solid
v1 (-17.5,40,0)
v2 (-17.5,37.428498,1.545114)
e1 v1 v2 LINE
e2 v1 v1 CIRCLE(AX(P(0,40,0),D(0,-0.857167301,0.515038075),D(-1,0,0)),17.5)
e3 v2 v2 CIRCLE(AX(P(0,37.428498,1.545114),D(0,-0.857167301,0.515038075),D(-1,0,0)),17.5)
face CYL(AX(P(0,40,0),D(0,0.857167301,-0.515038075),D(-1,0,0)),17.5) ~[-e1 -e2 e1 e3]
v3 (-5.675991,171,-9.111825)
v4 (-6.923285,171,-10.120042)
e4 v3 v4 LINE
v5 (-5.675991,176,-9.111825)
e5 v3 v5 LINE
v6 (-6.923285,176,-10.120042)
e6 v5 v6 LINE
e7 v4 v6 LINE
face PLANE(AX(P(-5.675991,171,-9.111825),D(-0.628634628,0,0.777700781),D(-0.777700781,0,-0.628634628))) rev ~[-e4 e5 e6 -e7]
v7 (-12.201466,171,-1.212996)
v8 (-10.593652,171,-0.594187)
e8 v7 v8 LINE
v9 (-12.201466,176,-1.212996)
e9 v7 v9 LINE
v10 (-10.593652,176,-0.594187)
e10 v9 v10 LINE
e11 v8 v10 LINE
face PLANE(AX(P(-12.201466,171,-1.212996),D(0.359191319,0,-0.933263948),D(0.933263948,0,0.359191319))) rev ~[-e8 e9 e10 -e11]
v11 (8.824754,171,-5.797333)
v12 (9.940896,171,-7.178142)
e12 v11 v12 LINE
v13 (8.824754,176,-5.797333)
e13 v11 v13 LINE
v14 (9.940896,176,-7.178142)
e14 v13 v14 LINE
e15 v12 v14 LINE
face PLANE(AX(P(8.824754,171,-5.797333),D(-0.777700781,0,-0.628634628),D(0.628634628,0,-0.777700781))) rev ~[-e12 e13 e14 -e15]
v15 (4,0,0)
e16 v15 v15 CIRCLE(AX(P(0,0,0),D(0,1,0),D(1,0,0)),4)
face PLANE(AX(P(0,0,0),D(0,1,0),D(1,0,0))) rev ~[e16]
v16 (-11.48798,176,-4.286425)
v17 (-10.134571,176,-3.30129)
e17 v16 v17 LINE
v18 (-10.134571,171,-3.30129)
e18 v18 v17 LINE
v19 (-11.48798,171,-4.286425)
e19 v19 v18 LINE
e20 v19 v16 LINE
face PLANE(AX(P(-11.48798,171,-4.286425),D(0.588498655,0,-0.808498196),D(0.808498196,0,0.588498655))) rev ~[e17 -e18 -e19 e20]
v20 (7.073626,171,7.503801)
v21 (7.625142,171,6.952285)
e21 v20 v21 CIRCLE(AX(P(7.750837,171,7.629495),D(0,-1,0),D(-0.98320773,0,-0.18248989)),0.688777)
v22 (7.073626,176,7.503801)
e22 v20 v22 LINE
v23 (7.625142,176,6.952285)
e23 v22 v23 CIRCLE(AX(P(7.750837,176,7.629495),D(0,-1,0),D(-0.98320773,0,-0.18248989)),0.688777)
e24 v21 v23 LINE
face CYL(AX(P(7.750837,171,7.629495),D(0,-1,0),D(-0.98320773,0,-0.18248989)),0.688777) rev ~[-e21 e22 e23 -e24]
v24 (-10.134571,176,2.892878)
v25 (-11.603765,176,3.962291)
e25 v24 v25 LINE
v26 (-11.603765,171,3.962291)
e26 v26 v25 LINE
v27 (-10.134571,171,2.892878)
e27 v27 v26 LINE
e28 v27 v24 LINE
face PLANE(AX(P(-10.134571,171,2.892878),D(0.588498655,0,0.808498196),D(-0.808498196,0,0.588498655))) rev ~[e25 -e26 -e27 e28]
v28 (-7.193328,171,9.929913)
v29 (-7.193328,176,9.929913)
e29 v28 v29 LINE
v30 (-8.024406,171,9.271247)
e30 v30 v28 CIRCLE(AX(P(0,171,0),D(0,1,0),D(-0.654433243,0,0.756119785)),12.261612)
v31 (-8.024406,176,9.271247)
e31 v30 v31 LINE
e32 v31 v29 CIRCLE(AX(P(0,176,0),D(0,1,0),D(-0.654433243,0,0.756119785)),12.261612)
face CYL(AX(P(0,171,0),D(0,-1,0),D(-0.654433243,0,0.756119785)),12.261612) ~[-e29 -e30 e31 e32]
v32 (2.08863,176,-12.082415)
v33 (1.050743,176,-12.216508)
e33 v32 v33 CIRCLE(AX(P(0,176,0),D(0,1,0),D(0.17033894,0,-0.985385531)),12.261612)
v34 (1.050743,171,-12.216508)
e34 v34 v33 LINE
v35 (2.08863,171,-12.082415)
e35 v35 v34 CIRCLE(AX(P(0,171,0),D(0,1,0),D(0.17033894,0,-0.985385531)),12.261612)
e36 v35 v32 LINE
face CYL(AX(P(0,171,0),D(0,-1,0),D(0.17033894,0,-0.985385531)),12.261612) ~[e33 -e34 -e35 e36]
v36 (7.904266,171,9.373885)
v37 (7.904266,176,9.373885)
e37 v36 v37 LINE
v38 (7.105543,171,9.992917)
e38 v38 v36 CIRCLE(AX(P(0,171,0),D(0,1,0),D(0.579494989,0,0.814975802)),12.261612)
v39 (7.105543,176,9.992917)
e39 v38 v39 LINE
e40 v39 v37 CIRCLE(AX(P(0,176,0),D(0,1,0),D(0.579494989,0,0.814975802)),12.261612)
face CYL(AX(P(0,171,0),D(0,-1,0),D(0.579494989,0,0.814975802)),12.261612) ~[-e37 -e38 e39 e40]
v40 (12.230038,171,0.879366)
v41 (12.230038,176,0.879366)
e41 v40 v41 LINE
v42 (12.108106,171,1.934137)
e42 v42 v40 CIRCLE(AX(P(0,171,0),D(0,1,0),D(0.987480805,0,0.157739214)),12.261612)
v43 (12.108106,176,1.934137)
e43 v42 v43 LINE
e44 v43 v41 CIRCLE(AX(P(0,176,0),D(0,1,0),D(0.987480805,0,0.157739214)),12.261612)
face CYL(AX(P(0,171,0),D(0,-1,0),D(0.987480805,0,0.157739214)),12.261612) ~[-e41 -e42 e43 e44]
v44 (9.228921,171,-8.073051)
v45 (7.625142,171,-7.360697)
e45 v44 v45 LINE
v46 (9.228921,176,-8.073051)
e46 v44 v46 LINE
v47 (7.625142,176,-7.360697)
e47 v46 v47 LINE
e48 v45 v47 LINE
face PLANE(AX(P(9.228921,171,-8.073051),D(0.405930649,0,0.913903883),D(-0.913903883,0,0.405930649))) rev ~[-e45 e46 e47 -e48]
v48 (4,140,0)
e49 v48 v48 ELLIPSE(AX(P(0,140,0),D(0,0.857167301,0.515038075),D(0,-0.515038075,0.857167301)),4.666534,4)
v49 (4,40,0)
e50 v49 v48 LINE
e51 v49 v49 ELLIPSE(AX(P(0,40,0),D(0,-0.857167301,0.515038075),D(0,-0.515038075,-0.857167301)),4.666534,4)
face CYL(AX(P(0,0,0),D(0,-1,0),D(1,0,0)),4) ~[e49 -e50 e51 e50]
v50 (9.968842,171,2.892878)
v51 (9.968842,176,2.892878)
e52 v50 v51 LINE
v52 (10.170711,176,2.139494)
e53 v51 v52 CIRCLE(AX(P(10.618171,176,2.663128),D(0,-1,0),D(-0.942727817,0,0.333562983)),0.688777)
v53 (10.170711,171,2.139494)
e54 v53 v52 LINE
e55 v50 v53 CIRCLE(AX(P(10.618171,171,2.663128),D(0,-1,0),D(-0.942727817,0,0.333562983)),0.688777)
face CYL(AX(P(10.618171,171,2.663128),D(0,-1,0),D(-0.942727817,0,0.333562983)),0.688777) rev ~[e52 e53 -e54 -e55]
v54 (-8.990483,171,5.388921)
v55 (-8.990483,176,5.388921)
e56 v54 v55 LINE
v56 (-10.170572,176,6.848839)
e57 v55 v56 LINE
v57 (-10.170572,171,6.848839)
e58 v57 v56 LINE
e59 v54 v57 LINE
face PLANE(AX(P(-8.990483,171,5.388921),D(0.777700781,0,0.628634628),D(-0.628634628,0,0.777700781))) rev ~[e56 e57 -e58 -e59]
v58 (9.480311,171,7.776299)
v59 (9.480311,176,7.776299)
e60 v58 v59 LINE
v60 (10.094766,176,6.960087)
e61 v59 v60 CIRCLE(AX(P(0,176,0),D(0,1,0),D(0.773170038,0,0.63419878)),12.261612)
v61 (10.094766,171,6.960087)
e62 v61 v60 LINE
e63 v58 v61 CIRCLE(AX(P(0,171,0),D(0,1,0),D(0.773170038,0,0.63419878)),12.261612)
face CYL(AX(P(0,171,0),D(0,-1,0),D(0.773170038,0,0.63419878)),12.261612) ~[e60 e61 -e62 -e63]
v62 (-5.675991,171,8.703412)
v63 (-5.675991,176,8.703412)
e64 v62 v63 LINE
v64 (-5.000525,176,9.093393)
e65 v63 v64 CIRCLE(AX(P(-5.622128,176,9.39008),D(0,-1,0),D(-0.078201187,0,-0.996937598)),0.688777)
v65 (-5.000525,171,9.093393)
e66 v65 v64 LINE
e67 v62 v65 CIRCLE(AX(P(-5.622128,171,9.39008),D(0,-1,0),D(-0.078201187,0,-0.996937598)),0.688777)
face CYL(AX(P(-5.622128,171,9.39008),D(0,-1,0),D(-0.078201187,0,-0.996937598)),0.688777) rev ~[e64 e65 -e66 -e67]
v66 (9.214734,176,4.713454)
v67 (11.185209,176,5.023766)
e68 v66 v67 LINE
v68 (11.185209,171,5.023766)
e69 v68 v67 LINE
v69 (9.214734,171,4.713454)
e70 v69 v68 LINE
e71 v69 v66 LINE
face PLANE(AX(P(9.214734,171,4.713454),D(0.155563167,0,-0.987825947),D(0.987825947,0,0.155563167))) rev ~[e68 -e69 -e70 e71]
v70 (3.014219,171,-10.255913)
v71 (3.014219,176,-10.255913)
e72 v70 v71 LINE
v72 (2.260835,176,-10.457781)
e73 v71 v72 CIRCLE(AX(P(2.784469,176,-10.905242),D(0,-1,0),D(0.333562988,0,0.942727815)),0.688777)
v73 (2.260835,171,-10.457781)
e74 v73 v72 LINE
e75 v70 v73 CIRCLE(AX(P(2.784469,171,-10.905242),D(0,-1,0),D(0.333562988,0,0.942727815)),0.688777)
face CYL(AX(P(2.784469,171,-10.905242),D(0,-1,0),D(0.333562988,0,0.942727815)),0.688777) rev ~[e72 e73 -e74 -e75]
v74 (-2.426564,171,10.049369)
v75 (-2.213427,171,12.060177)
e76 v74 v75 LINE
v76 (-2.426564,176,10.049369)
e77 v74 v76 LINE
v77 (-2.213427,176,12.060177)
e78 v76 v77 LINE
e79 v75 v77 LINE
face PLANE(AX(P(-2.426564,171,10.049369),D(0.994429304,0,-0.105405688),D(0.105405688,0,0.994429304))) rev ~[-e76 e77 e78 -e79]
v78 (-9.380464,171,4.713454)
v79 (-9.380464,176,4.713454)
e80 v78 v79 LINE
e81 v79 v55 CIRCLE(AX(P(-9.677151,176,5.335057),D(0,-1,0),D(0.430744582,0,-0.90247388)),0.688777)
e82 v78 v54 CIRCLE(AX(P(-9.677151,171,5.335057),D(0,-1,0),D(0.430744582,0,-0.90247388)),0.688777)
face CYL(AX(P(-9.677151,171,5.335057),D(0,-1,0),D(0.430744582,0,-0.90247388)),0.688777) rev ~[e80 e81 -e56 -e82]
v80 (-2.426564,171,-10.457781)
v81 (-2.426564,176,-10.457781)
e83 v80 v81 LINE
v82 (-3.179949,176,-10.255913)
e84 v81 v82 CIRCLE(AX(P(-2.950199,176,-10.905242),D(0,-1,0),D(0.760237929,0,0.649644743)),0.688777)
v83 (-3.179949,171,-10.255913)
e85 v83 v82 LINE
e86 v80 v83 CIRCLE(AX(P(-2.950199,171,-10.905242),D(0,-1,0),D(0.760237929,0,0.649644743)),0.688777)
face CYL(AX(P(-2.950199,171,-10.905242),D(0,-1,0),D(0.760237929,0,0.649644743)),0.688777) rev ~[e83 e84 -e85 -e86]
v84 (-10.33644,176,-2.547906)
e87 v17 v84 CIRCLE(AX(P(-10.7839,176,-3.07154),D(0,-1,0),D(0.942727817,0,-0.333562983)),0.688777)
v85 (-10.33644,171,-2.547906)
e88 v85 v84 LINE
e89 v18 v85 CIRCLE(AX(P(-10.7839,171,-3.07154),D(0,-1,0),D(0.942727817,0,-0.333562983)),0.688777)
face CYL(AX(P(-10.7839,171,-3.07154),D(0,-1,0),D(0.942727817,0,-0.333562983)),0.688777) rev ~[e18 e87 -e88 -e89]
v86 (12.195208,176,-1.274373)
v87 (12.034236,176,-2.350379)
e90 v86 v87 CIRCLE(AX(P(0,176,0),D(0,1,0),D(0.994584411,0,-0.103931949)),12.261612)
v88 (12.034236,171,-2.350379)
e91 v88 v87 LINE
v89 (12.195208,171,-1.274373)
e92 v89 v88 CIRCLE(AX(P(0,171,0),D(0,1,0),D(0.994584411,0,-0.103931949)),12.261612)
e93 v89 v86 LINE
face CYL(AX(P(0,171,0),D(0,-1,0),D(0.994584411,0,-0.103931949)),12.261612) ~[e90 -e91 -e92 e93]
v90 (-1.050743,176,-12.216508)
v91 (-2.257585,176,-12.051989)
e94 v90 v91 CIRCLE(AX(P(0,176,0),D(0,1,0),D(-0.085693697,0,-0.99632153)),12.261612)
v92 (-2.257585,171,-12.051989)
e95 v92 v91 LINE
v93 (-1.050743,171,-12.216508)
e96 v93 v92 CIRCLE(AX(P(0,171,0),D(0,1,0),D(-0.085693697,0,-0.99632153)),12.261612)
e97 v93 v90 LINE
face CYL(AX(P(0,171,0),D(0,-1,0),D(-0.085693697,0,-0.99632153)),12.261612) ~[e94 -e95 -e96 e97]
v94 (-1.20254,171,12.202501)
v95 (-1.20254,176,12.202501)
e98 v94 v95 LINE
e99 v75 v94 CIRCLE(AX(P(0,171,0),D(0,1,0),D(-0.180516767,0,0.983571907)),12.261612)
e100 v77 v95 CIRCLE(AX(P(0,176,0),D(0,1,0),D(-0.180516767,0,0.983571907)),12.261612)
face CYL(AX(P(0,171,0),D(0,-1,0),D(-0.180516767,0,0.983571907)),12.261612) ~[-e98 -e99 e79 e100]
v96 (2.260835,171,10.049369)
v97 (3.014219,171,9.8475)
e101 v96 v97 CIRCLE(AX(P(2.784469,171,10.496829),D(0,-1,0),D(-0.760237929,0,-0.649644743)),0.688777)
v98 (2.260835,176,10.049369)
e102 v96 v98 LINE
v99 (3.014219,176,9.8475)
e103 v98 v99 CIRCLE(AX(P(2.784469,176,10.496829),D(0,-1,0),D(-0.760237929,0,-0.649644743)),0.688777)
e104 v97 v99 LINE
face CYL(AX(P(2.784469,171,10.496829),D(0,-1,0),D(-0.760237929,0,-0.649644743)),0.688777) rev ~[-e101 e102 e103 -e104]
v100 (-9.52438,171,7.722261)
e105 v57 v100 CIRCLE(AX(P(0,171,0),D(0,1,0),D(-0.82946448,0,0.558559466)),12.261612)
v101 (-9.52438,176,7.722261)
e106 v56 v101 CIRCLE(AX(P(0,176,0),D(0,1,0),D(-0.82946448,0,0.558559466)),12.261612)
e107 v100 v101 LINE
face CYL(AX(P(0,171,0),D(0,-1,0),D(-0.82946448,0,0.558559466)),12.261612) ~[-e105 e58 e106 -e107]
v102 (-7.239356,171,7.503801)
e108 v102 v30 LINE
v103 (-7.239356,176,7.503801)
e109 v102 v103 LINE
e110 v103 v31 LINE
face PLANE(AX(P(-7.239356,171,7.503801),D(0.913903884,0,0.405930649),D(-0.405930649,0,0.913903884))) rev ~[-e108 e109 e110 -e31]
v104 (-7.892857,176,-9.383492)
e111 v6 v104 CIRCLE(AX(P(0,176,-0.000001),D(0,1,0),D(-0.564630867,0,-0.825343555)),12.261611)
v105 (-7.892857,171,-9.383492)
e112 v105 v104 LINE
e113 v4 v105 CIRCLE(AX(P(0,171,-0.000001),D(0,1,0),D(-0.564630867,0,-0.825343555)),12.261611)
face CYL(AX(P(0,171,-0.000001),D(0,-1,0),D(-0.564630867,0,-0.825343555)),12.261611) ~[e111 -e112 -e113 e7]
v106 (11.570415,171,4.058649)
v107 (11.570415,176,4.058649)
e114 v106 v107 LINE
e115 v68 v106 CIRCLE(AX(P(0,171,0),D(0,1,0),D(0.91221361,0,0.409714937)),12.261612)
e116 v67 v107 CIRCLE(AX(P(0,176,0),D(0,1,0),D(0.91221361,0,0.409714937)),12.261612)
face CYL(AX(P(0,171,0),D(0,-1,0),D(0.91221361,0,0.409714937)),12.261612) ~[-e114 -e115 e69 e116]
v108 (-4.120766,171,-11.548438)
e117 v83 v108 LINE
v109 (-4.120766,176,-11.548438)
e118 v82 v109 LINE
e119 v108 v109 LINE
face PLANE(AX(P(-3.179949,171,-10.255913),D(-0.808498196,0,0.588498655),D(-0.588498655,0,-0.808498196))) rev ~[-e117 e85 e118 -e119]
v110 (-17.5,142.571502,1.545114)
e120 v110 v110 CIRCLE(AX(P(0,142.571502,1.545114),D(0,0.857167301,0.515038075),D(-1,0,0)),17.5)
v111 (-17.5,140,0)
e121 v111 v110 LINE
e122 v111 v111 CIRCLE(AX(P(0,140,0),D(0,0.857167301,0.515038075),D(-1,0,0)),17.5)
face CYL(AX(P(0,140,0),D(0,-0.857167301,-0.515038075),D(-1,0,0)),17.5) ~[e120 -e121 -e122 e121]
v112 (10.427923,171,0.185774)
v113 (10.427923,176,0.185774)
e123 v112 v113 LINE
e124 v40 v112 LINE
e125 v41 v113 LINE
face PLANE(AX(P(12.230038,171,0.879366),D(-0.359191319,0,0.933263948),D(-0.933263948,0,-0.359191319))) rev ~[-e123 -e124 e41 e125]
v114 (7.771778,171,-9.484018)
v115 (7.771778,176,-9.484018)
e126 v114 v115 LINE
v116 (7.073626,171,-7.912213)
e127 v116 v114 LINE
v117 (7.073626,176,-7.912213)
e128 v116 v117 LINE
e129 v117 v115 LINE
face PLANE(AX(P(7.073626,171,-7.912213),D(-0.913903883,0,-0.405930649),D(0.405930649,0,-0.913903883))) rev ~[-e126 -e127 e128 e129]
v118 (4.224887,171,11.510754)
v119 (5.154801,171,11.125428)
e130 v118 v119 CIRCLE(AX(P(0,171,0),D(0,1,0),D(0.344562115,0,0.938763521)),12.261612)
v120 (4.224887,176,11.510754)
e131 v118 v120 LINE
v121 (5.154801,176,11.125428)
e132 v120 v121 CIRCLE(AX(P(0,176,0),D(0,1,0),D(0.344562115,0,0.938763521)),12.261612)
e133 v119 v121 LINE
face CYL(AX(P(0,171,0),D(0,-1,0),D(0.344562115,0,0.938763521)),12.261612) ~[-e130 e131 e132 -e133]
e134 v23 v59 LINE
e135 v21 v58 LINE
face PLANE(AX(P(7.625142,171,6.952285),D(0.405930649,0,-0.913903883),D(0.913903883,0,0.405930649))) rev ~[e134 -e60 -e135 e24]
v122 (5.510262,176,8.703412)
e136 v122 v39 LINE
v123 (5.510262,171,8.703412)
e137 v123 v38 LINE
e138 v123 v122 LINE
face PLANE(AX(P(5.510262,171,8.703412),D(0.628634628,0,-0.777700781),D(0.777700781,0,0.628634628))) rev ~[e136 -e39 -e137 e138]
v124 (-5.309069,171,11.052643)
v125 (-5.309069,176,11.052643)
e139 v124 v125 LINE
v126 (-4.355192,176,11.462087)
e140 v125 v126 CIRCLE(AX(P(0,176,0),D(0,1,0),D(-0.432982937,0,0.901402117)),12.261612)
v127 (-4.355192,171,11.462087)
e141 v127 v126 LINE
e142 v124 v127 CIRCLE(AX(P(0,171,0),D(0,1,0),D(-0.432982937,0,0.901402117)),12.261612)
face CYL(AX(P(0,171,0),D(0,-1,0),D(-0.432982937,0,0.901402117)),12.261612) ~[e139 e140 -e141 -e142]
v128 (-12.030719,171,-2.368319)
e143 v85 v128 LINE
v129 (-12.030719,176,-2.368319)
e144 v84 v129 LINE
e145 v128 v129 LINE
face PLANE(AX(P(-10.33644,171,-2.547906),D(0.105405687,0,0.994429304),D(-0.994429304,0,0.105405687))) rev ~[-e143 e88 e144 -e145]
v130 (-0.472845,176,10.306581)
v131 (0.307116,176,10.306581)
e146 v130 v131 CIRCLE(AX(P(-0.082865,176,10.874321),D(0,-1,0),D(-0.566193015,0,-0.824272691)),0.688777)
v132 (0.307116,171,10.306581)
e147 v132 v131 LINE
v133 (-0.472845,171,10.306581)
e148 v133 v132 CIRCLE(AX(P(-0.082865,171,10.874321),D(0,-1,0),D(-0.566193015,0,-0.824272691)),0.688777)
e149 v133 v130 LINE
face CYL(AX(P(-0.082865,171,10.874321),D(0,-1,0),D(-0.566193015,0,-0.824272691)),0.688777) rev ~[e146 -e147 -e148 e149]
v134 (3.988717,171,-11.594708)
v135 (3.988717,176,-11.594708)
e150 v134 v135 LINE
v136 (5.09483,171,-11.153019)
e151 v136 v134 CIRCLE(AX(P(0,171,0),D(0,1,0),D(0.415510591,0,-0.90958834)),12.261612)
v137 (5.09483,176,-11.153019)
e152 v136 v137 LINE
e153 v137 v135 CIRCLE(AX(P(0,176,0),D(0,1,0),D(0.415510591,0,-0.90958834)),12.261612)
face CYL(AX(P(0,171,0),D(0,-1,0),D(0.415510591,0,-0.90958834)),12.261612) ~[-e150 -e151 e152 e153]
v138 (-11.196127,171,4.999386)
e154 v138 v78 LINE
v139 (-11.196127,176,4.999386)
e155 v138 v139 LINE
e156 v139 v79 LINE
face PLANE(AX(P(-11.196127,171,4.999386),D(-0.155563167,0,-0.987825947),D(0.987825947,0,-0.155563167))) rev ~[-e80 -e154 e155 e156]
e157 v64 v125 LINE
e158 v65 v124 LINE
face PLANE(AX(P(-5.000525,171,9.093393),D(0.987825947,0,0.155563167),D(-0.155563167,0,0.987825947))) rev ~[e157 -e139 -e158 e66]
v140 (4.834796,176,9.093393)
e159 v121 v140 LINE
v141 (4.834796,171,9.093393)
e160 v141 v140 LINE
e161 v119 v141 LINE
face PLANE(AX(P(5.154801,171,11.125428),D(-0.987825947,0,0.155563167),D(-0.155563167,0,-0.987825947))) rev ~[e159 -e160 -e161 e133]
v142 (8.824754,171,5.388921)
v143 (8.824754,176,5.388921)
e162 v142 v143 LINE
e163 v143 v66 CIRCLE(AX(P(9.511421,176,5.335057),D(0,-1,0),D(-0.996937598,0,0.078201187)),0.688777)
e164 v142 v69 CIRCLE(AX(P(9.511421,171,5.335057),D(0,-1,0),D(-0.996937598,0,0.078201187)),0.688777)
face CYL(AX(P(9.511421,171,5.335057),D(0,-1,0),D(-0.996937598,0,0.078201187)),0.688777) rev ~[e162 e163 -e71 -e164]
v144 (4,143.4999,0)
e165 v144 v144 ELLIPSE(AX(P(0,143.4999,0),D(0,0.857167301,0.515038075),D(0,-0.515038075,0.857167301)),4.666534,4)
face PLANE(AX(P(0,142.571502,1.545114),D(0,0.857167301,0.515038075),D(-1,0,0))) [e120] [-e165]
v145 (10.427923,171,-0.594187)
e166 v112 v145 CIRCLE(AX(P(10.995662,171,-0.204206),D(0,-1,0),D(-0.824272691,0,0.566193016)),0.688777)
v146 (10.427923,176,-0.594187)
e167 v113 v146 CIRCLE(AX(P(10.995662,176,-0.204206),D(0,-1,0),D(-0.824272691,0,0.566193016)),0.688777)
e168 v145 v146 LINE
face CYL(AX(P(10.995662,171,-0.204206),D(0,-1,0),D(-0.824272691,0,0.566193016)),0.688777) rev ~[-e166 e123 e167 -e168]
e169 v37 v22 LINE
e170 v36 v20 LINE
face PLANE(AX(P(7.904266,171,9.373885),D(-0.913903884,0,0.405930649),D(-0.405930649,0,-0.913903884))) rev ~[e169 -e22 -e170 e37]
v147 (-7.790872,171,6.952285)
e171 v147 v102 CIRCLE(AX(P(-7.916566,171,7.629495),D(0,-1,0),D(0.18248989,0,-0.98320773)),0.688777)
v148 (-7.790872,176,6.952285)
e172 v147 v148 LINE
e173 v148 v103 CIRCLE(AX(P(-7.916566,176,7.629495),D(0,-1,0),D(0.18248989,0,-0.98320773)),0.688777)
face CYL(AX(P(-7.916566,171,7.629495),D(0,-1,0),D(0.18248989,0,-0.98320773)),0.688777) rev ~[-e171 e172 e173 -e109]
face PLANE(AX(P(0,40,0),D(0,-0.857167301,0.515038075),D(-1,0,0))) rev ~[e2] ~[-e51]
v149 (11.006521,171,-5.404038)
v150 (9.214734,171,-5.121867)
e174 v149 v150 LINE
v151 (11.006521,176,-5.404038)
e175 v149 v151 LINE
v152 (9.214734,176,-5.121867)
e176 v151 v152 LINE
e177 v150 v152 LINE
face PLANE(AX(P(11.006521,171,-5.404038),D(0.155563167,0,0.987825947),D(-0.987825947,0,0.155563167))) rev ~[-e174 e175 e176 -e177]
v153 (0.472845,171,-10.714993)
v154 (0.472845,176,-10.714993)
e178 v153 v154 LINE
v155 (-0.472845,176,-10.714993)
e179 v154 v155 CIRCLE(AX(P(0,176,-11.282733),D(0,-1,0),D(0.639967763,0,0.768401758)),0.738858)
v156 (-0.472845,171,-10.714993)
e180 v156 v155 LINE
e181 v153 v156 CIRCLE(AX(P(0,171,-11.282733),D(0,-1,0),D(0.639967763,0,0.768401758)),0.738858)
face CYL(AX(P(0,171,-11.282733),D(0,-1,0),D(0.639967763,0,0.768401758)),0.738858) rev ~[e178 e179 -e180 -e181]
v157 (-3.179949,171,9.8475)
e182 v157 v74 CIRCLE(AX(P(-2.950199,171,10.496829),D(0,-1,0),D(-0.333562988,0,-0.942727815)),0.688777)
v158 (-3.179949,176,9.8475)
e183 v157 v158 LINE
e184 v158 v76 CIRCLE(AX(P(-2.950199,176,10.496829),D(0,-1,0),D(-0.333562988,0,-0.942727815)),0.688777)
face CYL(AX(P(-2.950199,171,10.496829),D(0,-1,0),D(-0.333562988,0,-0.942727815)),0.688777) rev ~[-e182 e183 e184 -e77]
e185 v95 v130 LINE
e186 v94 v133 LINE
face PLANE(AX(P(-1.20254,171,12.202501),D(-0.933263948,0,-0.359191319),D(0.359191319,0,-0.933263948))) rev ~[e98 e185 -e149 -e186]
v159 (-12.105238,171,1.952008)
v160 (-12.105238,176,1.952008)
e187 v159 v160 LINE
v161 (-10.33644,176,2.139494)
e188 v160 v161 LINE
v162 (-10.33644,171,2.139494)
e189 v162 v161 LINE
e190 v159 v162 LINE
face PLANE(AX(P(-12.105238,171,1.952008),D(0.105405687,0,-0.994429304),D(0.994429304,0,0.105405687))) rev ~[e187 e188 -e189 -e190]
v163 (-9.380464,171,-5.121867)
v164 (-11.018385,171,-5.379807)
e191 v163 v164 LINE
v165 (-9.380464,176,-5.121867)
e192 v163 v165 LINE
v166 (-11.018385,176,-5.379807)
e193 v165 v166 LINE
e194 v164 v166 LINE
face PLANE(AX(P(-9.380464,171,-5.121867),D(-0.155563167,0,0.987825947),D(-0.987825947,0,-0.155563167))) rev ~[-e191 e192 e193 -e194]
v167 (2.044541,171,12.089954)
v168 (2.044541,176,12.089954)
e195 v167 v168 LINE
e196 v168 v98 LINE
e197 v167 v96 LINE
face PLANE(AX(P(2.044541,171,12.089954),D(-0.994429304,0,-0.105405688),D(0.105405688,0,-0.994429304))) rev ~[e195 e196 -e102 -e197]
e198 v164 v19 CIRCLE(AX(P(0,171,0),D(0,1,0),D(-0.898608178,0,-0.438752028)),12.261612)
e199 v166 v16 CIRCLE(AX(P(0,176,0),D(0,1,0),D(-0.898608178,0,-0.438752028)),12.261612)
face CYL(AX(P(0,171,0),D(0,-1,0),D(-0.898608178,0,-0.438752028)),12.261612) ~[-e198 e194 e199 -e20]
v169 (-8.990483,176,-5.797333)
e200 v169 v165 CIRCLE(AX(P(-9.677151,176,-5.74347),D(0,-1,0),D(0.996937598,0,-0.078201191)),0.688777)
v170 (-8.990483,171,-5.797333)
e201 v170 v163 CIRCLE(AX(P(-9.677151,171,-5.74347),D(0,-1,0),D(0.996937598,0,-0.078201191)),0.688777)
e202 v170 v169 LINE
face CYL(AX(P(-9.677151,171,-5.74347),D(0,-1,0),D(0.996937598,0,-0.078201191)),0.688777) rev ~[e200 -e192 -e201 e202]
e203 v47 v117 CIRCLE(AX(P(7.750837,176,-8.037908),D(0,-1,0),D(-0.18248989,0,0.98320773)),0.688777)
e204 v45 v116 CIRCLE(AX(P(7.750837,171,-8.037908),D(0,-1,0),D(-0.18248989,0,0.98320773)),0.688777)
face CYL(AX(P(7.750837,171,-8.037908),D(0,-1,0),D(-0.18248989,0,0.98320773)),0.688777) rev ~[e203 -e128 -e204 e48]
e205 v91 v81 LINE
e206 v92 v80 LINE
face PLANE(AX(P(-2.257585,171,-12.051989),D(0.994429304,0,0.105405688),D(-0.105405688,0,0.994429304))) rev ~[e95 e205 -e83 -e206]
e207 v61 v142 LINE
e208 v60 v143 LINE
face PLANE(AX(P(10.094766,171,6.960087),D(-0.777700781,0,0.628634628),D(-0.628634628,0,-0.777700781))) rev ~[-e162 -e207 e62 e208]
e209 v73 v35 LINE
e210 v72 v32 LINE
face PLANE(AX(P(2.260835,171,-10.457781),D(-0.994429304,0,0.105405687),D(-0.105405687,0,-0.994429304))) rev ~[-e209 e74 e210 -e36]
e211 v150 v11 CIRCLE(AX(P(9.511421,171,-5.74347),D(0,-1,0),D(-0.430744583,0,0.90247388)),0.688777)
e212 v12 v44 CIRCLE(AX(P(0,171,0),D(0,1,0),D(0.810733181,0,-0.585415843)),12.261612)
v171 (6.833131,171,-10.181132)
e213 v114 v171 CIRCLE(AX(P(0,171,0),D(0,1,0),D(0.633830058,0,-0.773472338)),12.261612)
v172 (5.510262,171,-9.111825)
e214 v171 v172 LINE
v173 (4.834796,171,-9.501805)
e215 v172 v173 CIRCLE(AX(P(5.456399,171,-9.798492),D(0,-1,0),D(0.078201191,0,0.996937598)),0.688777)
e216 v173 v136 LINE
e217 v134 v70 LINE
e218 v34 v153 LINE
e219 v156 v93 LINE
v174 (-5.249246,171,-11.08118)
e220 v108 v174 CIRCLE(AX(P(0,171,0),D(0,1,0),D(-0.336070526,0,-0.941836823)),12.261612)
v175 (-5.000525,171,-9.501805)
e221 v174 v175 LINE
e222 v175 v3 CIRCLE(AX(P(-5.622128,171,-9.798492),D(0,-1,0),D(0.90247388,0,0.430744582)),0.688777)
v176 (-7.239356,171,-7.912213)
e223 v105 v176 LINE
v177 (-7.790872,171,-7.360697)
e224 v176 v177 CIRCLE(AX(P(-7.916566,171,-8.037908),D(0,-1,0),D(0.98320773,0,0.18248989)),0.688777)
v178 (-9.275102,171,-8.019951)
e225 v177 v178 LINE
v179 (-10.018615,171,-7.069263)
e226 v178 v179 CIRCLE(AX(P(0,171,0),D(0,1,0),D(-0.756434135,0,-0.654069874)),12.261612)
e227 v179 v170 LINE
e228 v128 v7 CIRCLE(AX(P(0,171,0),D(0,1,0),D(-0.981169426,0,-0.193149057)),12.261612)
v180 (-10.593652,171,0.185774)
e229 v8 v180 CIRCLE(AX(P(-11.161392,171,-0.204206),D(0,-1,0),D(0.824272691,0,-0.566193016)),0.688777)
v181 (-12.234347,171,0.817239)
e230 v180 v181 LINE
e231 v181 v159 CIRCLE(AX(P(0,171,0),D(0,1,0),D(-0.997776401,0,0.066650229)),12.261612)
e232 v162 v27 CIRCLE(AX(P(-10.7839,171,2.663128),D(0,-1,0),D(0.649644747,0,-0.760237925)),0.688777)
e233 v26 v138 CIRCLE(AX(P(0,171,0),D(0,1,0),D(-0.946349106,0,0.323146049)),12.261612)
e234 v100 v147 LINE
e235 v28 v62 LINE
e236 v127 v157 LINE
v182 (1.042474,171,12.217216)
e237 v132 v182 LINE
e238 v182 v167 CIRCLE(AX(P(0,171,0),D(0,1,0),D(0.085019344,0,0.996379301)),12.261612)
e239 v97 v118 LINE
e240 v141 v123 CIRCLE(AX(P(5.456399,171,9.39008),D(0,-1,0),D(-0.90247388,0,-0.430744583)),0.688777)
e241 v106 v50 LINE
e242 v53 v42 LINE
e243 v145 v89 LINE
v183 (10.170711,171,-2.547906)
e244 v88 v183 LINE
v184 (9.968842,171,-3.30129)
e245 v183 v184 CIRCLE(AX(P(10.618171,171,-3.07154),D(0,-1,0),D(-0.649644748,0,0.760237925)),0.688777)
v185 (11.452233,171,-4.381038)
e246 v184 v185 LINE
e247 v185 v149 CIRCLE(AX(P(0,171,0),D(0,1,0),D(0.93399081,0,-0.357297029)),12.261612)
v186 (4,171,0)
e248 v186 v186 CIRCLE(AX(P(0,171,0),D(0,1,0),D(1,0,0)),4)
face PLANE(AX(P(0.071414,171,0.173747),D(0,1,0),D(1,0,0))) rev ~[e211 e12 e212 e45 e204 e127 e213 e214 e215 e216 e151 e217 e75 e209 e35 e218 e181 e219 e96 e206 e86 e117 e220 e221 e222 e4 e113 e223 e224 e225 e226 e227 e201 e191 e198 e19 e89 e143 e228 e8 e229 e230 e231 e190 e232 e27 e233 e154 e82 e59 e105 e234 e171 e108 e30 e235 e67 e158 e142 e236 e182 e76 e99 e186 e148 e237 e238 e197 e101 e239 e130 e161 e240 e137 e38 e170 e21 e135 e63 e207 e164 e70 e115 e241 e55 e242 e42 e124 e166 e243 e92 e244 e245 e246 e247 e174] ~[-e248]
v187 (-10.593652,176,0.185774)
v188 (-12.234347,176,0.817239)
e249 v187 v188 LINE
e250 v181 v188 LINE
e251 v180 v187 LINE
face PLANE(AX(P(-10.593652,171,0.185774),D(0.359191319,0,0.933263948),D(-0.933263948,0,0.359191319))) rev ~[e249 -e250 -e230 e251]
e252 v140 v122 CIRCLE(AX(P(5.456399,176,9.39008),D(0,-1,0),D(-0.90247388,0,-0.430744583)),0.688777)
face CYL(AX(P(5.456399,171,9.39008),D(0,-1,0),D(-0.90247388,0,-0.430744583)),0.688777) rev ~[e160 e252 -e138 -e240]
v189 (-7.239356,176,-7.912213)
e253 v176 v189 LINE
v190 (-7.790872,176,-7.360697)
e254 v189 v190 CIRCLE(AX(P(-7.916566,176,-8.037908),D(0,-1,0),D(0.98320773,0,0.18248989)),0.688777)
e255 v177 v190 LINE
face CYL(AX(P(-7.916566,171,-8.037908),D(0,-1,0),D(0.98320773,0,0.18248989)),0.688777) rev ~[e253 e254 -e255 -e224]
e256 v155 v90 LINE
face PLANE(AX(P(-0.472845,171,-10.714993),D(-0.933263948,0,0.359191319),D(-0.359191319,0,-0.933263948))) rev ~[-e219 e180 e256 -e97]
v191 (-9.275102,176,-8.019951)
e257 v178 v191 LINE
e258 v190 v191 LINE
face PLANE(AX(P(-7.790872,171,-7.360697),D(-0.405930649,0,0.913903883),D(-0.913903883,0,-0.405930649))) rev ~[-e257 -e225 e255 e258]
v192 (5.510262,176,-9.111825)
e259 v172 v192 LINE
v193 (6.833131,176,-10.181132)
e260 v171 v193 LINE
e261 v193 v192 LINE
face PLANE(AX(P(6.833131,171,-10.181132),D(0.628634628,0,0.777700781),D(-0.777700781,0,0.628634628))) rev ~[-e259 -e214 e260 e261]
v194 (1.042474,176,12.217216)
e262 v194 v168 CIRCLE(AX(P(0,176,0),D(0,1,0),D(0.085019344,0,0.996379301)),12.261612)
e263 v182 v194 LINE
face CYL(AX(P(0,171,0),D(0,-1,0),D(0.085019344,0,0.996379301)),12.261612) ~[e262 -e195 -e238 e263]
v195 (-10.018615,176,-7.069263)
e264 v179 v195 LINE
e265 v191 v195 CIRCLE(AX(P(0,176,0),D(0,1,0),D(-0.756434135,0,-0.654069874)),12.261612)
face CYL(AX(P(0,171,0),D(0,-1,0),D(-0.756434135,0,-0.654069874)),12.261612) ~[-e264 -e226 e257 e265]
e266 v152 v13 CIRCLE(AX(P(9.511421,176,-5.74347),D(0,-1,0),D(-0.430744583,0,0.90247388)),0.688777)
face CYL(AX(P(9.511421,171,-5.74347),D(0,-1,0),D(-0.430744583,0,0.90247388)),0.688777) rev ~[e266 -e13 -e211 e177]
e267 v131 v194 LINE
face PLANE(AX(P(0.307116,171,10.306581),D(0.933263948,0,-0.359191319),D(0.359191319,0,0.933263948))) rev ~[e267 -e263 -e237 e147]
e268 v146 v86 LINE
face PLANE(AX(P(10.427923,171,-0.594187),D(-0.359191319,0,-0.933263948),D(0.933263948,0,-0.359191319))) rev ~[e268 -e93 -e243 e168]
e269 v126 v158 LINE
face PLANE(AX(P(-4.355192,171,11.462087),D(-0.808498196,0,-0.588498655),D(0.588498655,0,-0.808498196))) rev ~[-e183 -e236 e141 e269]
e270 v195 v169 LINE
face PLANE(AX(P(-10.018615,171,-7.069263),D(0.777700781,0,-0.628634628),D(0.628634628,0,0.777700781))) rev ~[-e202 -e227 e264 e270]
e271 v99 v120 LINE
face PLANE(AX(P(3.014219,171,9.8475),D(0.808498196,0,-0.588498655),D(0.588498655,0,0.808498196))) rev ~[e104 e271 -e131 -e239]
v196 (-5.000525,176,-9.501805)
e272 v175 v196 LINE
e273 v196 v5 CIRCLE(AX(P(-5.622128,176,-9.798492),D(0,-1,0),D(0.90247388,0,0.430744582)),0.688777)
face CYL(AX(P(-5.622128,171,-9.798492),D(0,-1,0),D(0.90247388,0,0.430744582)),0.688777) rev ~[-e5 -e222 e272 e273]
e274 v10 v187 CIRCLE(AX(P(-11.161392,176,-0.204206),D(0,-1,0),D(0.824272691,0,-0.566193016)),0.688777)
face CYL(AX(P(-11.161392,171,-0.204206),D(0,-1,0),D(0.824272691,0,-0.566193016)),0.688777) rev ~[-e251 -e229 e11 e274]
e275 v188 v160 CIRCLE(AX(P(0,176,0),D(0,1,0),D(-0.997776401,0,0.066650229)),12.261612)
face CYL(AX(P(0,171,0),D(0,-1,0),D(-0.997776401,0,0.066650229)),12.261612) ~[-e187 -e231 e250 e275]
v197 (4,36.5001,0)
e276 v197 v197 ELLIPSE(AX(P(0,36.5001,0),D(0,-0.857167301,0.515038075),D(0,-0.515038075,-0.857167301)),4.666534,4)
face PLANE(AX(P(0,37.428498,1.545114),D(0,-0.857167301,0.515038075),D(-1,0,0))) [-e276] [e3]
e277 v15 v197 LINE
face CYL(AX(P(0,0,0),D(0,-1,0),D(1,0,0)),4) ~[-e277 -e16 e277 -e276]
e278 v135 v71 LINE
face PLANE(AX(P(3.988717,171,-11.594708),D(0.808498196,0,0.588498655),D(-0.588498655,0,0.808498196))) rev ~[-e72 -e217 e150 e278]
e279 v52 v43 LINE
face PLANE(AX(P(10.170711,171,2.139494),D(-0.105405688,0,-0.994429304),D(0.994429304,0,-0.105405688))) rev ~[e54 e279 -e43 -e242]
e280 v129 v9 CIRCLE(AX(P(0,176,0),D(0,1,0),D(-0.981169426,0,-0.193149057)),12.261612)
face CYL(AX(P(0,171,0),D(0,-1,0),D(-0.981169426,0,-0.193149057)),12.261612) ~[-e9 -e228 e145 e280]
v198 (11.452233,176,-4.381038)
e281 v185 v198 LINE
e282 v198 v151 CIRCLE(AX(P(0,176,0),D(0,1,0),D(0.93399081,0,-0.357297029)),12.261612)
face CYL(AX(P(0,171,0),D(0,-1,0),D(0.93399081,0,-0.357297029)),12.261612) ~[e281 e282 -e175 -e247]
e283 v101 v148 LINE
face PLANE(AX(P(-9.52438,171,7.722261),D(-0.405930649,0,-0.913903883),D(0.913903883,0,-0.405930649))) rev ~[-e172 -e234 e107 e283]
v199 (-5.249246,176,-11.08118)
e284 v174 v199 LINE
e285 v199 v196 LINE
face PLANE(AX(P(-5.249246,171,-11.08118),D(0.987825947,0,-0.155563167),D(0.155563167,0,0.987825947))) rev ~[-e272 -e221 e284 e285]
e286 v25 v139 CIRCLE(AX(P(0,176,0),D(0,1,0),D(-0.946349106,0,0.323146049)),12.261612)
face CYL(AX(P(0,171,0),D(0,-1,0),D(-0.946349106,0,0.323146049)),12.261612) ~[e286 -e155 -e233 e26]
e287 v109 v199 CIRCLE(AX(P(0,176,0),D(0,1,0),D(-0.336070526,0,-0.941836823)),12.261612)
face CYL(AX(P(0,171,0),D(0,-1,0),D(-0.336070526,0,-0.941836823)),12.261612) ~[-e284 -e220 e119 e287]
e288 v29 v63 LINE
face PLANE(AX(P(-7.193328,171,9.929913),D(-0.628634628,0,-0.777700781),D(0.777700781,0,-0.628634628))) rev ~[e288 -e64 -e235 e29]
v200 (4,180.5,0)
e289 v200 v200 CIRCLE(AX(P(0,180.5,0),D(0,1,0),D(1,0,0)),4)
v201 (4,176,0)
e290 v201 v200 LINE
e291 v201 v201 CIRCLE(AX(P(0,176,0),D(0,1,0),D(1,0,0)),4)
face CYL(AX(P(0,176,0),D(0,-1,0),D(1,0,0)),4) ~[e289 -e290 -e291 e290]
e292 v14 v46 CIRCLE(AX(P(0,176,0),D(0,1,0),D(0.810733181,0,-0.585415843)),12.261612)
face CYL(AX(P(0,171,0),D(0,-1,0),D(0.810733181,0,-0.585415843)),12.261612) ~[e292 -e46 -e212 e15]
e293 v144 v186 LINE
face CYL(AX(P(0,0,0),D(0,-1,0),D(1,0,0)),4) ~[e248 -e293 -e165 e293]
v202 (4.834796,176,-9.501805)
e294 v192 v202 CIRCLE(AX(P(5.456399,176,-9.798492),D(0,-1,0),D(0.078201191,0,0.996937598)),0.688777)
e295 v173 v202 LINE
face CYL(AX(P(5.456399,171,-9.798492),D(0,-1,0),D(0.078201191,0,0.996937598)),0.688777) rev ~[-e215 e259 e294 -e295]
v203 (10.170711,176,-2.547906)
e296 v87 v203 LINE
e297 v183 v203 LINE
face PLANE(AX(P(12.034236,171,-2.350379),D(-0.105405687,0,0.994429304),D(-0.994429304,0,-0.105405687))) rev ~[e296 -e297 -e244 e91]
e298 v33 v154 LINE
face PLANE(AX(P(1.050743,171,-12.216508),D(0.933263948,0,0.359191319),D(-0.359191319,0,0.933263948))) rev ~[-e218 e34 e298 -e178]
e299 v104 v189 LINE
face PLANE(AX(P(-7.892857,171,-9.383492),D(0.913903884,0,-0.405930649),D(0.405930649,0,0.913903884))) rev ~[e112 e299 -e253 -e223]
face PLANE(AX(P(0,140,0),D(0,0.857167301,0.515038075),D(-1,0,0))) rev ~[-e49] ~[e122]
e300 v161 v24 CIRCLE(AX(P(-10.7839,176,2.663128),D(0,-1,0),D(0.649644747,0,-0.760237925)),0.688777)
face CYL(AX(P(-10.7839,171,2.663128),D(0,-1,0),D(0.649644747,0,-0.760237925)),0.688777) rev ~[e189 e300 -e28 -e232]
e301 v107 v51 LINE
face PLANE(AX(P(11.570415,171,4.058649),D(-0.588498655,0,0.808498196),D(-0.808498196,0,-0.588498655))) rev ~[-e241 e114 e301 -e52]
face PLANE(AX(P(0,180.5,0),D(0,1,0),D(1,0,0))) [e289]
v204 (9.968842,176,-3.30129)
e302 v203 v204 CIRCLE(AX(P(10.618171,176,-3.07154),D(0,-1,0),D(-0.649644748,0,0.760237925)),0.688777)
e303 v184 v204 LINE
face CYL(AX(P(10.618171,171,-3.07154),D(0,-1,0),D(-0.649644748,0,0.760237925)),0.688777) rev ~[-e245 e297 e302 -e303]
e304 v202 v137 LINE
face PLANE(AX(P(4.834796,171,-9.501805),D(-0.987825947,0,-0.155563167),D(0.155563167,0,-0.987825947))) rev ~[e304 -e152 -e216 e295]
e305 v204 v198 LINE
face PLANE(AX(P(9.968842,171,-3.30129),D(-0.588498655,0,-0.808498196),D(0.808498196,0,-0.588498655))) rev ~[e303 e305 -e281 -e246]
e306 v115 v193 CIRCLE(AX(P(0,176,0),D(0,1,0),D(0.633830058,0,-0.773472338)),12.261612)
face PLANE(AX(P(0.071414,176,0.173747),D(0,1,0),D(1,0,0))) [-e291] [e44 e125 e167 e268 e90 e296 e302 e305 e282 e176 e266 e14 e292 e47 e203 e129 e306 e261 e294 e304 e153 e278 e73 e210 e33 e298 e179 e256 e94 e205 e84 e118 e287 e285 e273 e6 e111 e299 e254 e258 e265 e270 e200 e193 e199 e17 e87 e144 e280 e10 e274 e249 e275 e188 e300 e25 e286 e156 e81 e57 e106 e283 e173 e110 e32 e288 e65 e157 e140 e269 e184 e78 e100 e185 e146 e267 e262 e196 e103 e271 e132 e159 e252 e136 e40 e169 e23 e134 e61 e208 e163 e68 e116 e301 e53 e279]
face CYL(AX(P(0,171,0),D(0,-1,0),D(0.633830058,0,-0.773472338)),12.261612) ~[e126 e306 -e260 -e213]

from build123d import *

# Parameters (mm, degrees)
CROQUIS1_R              = 4
SALIENTE_EXTRUIR1_DEPTH = 171
CROQUIS2_R              = 17.5
SALIENTE_EXTRUIR2_DEPTH = 3
SALIENTE_EXTRUIR3_DEPTH = 5
CROQUIS4_R              = 4
SALIENTE_EXTRUIR4_DEPTH = 4.5
CROQUIS8_R              = 17.5
SALIENTE_EXTRUIR6_DEPTH = 3


with BuildPart() as part:
    # Croquis1 → Saliente-Extruir1 (new body)
    with BuildSketch(Plane(origin=(0, 0, 0), x_dir=(1, 0, 0), z_dir=(0, 1, 0))):
        Circle(CROQUIS1_R)
    extrude(amount=SALIENTE_EXTRUIR1_DEPTH)

    # Croquis2 → Saliente-Extruir2 (add)
    with BuildSketch(Plane(origin=(0, 29.389431256, -17.658951857), x_dir=(-1, 0, 0), z_dir=(0, -0.857167301, 0.515038075))):
        with Locations((0, -20.601522996)):
            Circle(CROQUIS2_R)
    extrude(amount=SALIENTE_EXTRUIR2_DEPTH)

    # Croquis3 → Saliente-Extruir3 (add)
    with BuildSketch(Plane(origin=(0, 171, 0), x_dir=(1, 0, 0), z_dir=(0, 1, 0))):
        with BuildLine():
            Line((1.050742858, 12.216507919), (0.472845286, 10.71499343))
            ThreePointArc((0.472845286, 10.71499343), (0, 10.543875222), (-0.472845286, 10.71499343))
            Line((-0.472845286, 10.71499343), (-1.050742858, 12.216507919))
            ThreePointArc((-1.050742858, 12.216507919), (-1.656207782, 12.14924286), (-2.257584572, 12.051988972))
            Line((-2.257584572, 12.051988972), (-2.426564451, 10.457781423))
            ThreePointArc((-2.426564451, 10.457781423), (-2.771930057, 10.239934406), (-3.179948954, 10.255912654))
            Line((-3.179948954, 10.255912654), (-4.120766374, 11.54843759))
            ThreePointArc((-4.120766374, 11.54843759), (-4.690827714, 11.328868507), (-5.249245828, 11.081179745))
            Line((-5.249245828, 11.081179745), (-5.000525386, 9.501805204))
            ThreePointArc((-5.000525386, 9.501805204), (-5.277739988, 9.201993948), (-5.675991453, 9.111824689))
            Line((-5.675991453, 9.111824689), (-6.923284582, 10.120042336))
            ThreePointArc((-6.923284582, 10.120042336), (-7.417219229, 9.763809974), (-7.892857245, 9.383492462))
            Line((-7.892857245, 9.383492462), (-7.239355878, 7.912212973))
            ThreePointArc((-7.239355878, 7.912212973), (-7.429527758, 7.55086912), (-7.790871612, 7.360697239))
            Line((-7.790871612, 7.360697239), (-9.275101788, 8.019950942))
            ThreePointArc((-9.275101788, 8.019950942), (-9.658562641, 7.553760256), (-10.018615343, 7.069262543))
            Line((-10.018615343, 7.069262543), (-8.990483327, 5.797332815))
            ThreePointArc((-8.990483327, 5.797332815), (-9.080652586, 5.39908135), (-9.380463842, 5.121866748))
            Line((-9.380463842, 5.121866748), (-11.018384727, 5.379807088))
            ThreePointArc((-11.018384727, 5.379807088), (-11.266454067, 4.838815873), (-11.487980236, 4.286424664))
            Line((-11.487980236, 4.286424664), (-10.134571292, 3.301290316))
            ThreePointArc((-10.134571292, 3.301290316), (-10.118593045, 2.893271419), (-10.336440061, 2.547905812))
            Line((-10.336440061, 2.547905812), (-12.0307187, 2.368318783))
            ThreePointArc((-12.0307187, 2.368318783), (-12.129855039, 1.792691558), (-12.201465745, 1.212996274))
            Line((-12.201465745, 1.212996274), (-10.593652069, 0.594186647))
            ThreePointArc((-10.593652069, 0.594186647), (-10.472615206, 0.204206132), (-10.593652069, -0.185774383))
            Line((-10.593652069, -0.185774383), (-12.234346993, -0.817239228))
            ThreePointArc((-12.234346993, -0.817239228), (-12.183011813, -1.386127504), (-12.105238209, -1.952007737))
            Line((-12.105238209, -1.952007737), (-10.336440061, -2.139493548))
            ThreePointArc((-10.336440061, -2.139493548), (-10.118593045, -2.484859155), (-10.134571292, -2.892878051))
            Line((-10.134571292, -2.892878051), (-11.603765461, -3.962291436))
            ThreePointArc((-11.603765461, -3.962291436), (-11.411733847, -4.485471759), (-11.196127365, -4.999385795))
            Line((-11.196127365, -4.999385795), (-9.380463842, -4.713454484))
            ThreePointArc((-9.380463842, -4.713454484), (-9.080652586, -4.990669086), (-8.990483327, -5.388920551))
            Line((-8.990483327, -5.388920551), (-10.170571543, -6.848839375))
            ThreePointArc((-10.170571543, -6.848839375), (-9.857154436, -7.29271093), (-9.524379813, -7.722261033))
            Line((-9.524379813, -7.722261033), (-7.790871612, -6.952284975))
            ThreePointArc((-7.790871612, -6.952284975), (-7.429527758, -7.142456856), (-7.239355878, -7.503800709))
            Line((-7.239355878, -7.503800709), (-8.024406446, -9.271247353))
            ThreePointArc((-8.024406446, -9.271247353), (-7.61599094, -9.60956858), (-7.193327687, -9.929912542))
            Line((-7.193327687, -9.929912542), (-5.675991453, -8.703412424))
            ThreePointArc((-5.675991453, -8.703412424), (-5.277739988, -8.793581684), (-5.000525386, -9.09339294))
            Line((-5.000525386, -9.09339294), (-5.309068741, -11.052642915))
            ThreePointArc((-5.309068741, -11.052642915), (-4.836465093, -11.26746341), (-4.355191926, -11.462086615))
            Line((-4.355191926, -11.462086615), (-3.179948954, -9.84750039))
            ThreePointArc((-3.179948954, -9.84750039), (-2.771930057, -9.831522142), (-2.426564451, -10.049369159))
            Line((-2.426564451, -10.049369159), (-2.213426541, -12.060176999))
            ThreePointArc((-2.213426541, -12.060176999), (-1.70946512, -12.141863749), (-1.202540078, -12.202500713))
            Line((-1.202540078, -12.202500713), (-0.472845286, -10.306581166))
            ThreePointArc((-0.472845286, -10.306581166), (-0.08286477, -10.185544303), (0.307115745, -10.306581166))
            Line((0.307115745, -10.306581166), (1.042474215, -12.217216287))
            ThreePointArc((1.042474215, -12.217216287), (1.544818551, -12.163908169), (2.04454079, -12.08995365))
            Line((2.04454079, -12.08995365), (2.26083491, -10.049369159))
            ThreePointArc((2.26083491, -10.049369159), (2.606200516, -9.831522142), (3.014219413, -9.84750039))
            Line((3.014219413, -9.84750039), (4.224886916, -11.510753965))
            ThreePointArc((4.224886916, -11.510753965), (4.693799885, -11.327637394), (5.154801423, -11.125428018))
            Line((5.154801423, -11.125428018), (4.834795845, -9.09339294))
            ThreePointArc((4.834795845, -9.09339294), (5.112010447, -8.793581684), (5.510261912, -8.703412424))
            Line((5.510261912, -8.703412424), (7.105542644, -9.992916993))
            ThreePointArc((7.105542644, -9.992916993), (7.511283882, -9.691632511), (7.90426552, -9.37388462))
            Line((7.90426552, -9.37388462), (7.073626337, -7.503800709))
            ThreePointArc((7.073626337, -7.503800709), (7.263798217, -7.142456856), (7.625142071, -6.952284975))
            Line((7.625142071, -6.952284975), (9.480310931, -7.776299309))
            ThreePointArc((9.480310931, -7.776299309), (9.796043302, -7.374595712), (10.094766478, -6.960087359))
            Line((10.094766478, -6.960087359), (8.824753786, -5.388920551))
            ThreePointArc((8.824753786, -5.388920551), (8.914923046, -4.990669086), (9.214734302, -4.713454484))
            Line((9.214734302, -4.713454484), (11.185209251, -5.023765551))
            ThreePointArc((11.185209251, -5.023765551), (11.388040568, -4.545289685), (11.570414703, -4.058648777))
            Line((11.570414703, -4.058648777), (9.968841751, -2.892878051))
            ThreePointArc((9.968841751, -2.892878051), (9.952863504, -2.484859155), (10.17071052, -2.139493548))
            Line((10.17071052, -2.139493548), (12.108106386, -1.934137026))
            ThreePointArc((12.108106386, -1.934137026), (12.180495026, -1.408072161), (12.230038474, -0.879366378))
            Line((12.230038474, -0.879366378), (10.427922528, -0.185774383))
            ThreePointArc((10.427922528, -0.185774383), (10.306885665, 0.204206132), (10.427922528, 0.594186647))
            Line((10.427922528, 0.594186647), (12.195208041, 1.274373229))
            ThreePointArc((12.195208041, 1.274373229), (12.12666239, 1.8141625), (12.034236318, 2.350379234))
            Line((12.034236318, 2.350379234), (10.17071052, 2.547905812))
            ThreePointArc((10.17071052, 2.547905812), (9.952863504, 2.893271419), (9.968841751, 3.301290316))
            Line((9.968841751, 3.301290316), (11.452232826, 4.381037502))
            ThreePointArc((11.452232826, 4.381037502), (11.241020253, 4.897610638), (11.006520824, 5.404037901))
            Line((11.006520824, 5.404037901), (9.214734302, 5.121866748))
            ThreePointArc((9.214734302, 5.121866748), (8.914923046, 5.39908135), (8.824753786, 5.797332815))
            Line((8.824753786, 5.797332815), (9.940895623, 7.178141856))
            ThreePointArc((9.940895623, 7.178141856), (9.595346713, 7.633901214), (9.228920544, 8.073050965))
            Line((9.228920544, 8.073050965), (7.625142071, 7.360697239))
            ThreePointArc((7.625142071, 7.360697239), (7.263798217, 7.55086912), (7.073626337, 7.912212973))
            Line((7.073626337, 7.912212973), (7.77177818, 9.48401762))
            ThreePointArc((7.77177818, 9.48401762), (7.310768329, 9.843769234), (6.83313078, 10.181132061))
            Line((6.83313078, 10.181132061), (5.510261912, 9.111824689))
            ThreePointArc((5.510261912, 9.111824689), (5.112010447, 9.201993948), (4.834795845, 9.501805204))
            Line((4.834795845, 9.501805204), (5.094829592, 11.15301922))
            ThreePointArc((5.094829592, 11.15301922), (4.547139411, 11.387302116), (3.988716959, 11.594708419))
            Line((3.988716959, 11.594708419), (3.014219413, 10.255912654))
            ThreePointArc((3.014219413, 10.255912654), (2.606200516, 10.239934406), (2.26083491, 10.457781423))
            Line((2.26083491, 10.457781423), (2.088629995, 12.082414951))
            ThreePointArc((2.088629995, 12.082414951), (1.571117662, 12.16053928), (1.050742858, 12.216507919))
        make_face()
    extrude(amount=SALIENTE_EXTRUIR3_DEPTH)

    # Croquis4 → Saliente-Extruir4 (add)
    with BuildSketch(Plane(origin=(0, 176, 0), x_dir=(1, 0, 0), z_dir=(0, 1, 0))):
        Circle(CROQUIS4_R)
    extrude(amount=SALIENTE_EXTRUIR4_DEPTH)

    # Croquis8 → Saliente-Extruir6 (add)
    with BuildSketch(Plane(origin=(0, 102.863009395, 61.8063315), x_dir=(-1, 0, 0), z_dir=(0, 0.857167301, 0.515038075))):
        with Locations((0, -72.105330487)):
            Circle(CROQUIS8_R)
    extrude(amount=SALIENTE_EXTRUIR6_DEPTH)


solid = part.part
